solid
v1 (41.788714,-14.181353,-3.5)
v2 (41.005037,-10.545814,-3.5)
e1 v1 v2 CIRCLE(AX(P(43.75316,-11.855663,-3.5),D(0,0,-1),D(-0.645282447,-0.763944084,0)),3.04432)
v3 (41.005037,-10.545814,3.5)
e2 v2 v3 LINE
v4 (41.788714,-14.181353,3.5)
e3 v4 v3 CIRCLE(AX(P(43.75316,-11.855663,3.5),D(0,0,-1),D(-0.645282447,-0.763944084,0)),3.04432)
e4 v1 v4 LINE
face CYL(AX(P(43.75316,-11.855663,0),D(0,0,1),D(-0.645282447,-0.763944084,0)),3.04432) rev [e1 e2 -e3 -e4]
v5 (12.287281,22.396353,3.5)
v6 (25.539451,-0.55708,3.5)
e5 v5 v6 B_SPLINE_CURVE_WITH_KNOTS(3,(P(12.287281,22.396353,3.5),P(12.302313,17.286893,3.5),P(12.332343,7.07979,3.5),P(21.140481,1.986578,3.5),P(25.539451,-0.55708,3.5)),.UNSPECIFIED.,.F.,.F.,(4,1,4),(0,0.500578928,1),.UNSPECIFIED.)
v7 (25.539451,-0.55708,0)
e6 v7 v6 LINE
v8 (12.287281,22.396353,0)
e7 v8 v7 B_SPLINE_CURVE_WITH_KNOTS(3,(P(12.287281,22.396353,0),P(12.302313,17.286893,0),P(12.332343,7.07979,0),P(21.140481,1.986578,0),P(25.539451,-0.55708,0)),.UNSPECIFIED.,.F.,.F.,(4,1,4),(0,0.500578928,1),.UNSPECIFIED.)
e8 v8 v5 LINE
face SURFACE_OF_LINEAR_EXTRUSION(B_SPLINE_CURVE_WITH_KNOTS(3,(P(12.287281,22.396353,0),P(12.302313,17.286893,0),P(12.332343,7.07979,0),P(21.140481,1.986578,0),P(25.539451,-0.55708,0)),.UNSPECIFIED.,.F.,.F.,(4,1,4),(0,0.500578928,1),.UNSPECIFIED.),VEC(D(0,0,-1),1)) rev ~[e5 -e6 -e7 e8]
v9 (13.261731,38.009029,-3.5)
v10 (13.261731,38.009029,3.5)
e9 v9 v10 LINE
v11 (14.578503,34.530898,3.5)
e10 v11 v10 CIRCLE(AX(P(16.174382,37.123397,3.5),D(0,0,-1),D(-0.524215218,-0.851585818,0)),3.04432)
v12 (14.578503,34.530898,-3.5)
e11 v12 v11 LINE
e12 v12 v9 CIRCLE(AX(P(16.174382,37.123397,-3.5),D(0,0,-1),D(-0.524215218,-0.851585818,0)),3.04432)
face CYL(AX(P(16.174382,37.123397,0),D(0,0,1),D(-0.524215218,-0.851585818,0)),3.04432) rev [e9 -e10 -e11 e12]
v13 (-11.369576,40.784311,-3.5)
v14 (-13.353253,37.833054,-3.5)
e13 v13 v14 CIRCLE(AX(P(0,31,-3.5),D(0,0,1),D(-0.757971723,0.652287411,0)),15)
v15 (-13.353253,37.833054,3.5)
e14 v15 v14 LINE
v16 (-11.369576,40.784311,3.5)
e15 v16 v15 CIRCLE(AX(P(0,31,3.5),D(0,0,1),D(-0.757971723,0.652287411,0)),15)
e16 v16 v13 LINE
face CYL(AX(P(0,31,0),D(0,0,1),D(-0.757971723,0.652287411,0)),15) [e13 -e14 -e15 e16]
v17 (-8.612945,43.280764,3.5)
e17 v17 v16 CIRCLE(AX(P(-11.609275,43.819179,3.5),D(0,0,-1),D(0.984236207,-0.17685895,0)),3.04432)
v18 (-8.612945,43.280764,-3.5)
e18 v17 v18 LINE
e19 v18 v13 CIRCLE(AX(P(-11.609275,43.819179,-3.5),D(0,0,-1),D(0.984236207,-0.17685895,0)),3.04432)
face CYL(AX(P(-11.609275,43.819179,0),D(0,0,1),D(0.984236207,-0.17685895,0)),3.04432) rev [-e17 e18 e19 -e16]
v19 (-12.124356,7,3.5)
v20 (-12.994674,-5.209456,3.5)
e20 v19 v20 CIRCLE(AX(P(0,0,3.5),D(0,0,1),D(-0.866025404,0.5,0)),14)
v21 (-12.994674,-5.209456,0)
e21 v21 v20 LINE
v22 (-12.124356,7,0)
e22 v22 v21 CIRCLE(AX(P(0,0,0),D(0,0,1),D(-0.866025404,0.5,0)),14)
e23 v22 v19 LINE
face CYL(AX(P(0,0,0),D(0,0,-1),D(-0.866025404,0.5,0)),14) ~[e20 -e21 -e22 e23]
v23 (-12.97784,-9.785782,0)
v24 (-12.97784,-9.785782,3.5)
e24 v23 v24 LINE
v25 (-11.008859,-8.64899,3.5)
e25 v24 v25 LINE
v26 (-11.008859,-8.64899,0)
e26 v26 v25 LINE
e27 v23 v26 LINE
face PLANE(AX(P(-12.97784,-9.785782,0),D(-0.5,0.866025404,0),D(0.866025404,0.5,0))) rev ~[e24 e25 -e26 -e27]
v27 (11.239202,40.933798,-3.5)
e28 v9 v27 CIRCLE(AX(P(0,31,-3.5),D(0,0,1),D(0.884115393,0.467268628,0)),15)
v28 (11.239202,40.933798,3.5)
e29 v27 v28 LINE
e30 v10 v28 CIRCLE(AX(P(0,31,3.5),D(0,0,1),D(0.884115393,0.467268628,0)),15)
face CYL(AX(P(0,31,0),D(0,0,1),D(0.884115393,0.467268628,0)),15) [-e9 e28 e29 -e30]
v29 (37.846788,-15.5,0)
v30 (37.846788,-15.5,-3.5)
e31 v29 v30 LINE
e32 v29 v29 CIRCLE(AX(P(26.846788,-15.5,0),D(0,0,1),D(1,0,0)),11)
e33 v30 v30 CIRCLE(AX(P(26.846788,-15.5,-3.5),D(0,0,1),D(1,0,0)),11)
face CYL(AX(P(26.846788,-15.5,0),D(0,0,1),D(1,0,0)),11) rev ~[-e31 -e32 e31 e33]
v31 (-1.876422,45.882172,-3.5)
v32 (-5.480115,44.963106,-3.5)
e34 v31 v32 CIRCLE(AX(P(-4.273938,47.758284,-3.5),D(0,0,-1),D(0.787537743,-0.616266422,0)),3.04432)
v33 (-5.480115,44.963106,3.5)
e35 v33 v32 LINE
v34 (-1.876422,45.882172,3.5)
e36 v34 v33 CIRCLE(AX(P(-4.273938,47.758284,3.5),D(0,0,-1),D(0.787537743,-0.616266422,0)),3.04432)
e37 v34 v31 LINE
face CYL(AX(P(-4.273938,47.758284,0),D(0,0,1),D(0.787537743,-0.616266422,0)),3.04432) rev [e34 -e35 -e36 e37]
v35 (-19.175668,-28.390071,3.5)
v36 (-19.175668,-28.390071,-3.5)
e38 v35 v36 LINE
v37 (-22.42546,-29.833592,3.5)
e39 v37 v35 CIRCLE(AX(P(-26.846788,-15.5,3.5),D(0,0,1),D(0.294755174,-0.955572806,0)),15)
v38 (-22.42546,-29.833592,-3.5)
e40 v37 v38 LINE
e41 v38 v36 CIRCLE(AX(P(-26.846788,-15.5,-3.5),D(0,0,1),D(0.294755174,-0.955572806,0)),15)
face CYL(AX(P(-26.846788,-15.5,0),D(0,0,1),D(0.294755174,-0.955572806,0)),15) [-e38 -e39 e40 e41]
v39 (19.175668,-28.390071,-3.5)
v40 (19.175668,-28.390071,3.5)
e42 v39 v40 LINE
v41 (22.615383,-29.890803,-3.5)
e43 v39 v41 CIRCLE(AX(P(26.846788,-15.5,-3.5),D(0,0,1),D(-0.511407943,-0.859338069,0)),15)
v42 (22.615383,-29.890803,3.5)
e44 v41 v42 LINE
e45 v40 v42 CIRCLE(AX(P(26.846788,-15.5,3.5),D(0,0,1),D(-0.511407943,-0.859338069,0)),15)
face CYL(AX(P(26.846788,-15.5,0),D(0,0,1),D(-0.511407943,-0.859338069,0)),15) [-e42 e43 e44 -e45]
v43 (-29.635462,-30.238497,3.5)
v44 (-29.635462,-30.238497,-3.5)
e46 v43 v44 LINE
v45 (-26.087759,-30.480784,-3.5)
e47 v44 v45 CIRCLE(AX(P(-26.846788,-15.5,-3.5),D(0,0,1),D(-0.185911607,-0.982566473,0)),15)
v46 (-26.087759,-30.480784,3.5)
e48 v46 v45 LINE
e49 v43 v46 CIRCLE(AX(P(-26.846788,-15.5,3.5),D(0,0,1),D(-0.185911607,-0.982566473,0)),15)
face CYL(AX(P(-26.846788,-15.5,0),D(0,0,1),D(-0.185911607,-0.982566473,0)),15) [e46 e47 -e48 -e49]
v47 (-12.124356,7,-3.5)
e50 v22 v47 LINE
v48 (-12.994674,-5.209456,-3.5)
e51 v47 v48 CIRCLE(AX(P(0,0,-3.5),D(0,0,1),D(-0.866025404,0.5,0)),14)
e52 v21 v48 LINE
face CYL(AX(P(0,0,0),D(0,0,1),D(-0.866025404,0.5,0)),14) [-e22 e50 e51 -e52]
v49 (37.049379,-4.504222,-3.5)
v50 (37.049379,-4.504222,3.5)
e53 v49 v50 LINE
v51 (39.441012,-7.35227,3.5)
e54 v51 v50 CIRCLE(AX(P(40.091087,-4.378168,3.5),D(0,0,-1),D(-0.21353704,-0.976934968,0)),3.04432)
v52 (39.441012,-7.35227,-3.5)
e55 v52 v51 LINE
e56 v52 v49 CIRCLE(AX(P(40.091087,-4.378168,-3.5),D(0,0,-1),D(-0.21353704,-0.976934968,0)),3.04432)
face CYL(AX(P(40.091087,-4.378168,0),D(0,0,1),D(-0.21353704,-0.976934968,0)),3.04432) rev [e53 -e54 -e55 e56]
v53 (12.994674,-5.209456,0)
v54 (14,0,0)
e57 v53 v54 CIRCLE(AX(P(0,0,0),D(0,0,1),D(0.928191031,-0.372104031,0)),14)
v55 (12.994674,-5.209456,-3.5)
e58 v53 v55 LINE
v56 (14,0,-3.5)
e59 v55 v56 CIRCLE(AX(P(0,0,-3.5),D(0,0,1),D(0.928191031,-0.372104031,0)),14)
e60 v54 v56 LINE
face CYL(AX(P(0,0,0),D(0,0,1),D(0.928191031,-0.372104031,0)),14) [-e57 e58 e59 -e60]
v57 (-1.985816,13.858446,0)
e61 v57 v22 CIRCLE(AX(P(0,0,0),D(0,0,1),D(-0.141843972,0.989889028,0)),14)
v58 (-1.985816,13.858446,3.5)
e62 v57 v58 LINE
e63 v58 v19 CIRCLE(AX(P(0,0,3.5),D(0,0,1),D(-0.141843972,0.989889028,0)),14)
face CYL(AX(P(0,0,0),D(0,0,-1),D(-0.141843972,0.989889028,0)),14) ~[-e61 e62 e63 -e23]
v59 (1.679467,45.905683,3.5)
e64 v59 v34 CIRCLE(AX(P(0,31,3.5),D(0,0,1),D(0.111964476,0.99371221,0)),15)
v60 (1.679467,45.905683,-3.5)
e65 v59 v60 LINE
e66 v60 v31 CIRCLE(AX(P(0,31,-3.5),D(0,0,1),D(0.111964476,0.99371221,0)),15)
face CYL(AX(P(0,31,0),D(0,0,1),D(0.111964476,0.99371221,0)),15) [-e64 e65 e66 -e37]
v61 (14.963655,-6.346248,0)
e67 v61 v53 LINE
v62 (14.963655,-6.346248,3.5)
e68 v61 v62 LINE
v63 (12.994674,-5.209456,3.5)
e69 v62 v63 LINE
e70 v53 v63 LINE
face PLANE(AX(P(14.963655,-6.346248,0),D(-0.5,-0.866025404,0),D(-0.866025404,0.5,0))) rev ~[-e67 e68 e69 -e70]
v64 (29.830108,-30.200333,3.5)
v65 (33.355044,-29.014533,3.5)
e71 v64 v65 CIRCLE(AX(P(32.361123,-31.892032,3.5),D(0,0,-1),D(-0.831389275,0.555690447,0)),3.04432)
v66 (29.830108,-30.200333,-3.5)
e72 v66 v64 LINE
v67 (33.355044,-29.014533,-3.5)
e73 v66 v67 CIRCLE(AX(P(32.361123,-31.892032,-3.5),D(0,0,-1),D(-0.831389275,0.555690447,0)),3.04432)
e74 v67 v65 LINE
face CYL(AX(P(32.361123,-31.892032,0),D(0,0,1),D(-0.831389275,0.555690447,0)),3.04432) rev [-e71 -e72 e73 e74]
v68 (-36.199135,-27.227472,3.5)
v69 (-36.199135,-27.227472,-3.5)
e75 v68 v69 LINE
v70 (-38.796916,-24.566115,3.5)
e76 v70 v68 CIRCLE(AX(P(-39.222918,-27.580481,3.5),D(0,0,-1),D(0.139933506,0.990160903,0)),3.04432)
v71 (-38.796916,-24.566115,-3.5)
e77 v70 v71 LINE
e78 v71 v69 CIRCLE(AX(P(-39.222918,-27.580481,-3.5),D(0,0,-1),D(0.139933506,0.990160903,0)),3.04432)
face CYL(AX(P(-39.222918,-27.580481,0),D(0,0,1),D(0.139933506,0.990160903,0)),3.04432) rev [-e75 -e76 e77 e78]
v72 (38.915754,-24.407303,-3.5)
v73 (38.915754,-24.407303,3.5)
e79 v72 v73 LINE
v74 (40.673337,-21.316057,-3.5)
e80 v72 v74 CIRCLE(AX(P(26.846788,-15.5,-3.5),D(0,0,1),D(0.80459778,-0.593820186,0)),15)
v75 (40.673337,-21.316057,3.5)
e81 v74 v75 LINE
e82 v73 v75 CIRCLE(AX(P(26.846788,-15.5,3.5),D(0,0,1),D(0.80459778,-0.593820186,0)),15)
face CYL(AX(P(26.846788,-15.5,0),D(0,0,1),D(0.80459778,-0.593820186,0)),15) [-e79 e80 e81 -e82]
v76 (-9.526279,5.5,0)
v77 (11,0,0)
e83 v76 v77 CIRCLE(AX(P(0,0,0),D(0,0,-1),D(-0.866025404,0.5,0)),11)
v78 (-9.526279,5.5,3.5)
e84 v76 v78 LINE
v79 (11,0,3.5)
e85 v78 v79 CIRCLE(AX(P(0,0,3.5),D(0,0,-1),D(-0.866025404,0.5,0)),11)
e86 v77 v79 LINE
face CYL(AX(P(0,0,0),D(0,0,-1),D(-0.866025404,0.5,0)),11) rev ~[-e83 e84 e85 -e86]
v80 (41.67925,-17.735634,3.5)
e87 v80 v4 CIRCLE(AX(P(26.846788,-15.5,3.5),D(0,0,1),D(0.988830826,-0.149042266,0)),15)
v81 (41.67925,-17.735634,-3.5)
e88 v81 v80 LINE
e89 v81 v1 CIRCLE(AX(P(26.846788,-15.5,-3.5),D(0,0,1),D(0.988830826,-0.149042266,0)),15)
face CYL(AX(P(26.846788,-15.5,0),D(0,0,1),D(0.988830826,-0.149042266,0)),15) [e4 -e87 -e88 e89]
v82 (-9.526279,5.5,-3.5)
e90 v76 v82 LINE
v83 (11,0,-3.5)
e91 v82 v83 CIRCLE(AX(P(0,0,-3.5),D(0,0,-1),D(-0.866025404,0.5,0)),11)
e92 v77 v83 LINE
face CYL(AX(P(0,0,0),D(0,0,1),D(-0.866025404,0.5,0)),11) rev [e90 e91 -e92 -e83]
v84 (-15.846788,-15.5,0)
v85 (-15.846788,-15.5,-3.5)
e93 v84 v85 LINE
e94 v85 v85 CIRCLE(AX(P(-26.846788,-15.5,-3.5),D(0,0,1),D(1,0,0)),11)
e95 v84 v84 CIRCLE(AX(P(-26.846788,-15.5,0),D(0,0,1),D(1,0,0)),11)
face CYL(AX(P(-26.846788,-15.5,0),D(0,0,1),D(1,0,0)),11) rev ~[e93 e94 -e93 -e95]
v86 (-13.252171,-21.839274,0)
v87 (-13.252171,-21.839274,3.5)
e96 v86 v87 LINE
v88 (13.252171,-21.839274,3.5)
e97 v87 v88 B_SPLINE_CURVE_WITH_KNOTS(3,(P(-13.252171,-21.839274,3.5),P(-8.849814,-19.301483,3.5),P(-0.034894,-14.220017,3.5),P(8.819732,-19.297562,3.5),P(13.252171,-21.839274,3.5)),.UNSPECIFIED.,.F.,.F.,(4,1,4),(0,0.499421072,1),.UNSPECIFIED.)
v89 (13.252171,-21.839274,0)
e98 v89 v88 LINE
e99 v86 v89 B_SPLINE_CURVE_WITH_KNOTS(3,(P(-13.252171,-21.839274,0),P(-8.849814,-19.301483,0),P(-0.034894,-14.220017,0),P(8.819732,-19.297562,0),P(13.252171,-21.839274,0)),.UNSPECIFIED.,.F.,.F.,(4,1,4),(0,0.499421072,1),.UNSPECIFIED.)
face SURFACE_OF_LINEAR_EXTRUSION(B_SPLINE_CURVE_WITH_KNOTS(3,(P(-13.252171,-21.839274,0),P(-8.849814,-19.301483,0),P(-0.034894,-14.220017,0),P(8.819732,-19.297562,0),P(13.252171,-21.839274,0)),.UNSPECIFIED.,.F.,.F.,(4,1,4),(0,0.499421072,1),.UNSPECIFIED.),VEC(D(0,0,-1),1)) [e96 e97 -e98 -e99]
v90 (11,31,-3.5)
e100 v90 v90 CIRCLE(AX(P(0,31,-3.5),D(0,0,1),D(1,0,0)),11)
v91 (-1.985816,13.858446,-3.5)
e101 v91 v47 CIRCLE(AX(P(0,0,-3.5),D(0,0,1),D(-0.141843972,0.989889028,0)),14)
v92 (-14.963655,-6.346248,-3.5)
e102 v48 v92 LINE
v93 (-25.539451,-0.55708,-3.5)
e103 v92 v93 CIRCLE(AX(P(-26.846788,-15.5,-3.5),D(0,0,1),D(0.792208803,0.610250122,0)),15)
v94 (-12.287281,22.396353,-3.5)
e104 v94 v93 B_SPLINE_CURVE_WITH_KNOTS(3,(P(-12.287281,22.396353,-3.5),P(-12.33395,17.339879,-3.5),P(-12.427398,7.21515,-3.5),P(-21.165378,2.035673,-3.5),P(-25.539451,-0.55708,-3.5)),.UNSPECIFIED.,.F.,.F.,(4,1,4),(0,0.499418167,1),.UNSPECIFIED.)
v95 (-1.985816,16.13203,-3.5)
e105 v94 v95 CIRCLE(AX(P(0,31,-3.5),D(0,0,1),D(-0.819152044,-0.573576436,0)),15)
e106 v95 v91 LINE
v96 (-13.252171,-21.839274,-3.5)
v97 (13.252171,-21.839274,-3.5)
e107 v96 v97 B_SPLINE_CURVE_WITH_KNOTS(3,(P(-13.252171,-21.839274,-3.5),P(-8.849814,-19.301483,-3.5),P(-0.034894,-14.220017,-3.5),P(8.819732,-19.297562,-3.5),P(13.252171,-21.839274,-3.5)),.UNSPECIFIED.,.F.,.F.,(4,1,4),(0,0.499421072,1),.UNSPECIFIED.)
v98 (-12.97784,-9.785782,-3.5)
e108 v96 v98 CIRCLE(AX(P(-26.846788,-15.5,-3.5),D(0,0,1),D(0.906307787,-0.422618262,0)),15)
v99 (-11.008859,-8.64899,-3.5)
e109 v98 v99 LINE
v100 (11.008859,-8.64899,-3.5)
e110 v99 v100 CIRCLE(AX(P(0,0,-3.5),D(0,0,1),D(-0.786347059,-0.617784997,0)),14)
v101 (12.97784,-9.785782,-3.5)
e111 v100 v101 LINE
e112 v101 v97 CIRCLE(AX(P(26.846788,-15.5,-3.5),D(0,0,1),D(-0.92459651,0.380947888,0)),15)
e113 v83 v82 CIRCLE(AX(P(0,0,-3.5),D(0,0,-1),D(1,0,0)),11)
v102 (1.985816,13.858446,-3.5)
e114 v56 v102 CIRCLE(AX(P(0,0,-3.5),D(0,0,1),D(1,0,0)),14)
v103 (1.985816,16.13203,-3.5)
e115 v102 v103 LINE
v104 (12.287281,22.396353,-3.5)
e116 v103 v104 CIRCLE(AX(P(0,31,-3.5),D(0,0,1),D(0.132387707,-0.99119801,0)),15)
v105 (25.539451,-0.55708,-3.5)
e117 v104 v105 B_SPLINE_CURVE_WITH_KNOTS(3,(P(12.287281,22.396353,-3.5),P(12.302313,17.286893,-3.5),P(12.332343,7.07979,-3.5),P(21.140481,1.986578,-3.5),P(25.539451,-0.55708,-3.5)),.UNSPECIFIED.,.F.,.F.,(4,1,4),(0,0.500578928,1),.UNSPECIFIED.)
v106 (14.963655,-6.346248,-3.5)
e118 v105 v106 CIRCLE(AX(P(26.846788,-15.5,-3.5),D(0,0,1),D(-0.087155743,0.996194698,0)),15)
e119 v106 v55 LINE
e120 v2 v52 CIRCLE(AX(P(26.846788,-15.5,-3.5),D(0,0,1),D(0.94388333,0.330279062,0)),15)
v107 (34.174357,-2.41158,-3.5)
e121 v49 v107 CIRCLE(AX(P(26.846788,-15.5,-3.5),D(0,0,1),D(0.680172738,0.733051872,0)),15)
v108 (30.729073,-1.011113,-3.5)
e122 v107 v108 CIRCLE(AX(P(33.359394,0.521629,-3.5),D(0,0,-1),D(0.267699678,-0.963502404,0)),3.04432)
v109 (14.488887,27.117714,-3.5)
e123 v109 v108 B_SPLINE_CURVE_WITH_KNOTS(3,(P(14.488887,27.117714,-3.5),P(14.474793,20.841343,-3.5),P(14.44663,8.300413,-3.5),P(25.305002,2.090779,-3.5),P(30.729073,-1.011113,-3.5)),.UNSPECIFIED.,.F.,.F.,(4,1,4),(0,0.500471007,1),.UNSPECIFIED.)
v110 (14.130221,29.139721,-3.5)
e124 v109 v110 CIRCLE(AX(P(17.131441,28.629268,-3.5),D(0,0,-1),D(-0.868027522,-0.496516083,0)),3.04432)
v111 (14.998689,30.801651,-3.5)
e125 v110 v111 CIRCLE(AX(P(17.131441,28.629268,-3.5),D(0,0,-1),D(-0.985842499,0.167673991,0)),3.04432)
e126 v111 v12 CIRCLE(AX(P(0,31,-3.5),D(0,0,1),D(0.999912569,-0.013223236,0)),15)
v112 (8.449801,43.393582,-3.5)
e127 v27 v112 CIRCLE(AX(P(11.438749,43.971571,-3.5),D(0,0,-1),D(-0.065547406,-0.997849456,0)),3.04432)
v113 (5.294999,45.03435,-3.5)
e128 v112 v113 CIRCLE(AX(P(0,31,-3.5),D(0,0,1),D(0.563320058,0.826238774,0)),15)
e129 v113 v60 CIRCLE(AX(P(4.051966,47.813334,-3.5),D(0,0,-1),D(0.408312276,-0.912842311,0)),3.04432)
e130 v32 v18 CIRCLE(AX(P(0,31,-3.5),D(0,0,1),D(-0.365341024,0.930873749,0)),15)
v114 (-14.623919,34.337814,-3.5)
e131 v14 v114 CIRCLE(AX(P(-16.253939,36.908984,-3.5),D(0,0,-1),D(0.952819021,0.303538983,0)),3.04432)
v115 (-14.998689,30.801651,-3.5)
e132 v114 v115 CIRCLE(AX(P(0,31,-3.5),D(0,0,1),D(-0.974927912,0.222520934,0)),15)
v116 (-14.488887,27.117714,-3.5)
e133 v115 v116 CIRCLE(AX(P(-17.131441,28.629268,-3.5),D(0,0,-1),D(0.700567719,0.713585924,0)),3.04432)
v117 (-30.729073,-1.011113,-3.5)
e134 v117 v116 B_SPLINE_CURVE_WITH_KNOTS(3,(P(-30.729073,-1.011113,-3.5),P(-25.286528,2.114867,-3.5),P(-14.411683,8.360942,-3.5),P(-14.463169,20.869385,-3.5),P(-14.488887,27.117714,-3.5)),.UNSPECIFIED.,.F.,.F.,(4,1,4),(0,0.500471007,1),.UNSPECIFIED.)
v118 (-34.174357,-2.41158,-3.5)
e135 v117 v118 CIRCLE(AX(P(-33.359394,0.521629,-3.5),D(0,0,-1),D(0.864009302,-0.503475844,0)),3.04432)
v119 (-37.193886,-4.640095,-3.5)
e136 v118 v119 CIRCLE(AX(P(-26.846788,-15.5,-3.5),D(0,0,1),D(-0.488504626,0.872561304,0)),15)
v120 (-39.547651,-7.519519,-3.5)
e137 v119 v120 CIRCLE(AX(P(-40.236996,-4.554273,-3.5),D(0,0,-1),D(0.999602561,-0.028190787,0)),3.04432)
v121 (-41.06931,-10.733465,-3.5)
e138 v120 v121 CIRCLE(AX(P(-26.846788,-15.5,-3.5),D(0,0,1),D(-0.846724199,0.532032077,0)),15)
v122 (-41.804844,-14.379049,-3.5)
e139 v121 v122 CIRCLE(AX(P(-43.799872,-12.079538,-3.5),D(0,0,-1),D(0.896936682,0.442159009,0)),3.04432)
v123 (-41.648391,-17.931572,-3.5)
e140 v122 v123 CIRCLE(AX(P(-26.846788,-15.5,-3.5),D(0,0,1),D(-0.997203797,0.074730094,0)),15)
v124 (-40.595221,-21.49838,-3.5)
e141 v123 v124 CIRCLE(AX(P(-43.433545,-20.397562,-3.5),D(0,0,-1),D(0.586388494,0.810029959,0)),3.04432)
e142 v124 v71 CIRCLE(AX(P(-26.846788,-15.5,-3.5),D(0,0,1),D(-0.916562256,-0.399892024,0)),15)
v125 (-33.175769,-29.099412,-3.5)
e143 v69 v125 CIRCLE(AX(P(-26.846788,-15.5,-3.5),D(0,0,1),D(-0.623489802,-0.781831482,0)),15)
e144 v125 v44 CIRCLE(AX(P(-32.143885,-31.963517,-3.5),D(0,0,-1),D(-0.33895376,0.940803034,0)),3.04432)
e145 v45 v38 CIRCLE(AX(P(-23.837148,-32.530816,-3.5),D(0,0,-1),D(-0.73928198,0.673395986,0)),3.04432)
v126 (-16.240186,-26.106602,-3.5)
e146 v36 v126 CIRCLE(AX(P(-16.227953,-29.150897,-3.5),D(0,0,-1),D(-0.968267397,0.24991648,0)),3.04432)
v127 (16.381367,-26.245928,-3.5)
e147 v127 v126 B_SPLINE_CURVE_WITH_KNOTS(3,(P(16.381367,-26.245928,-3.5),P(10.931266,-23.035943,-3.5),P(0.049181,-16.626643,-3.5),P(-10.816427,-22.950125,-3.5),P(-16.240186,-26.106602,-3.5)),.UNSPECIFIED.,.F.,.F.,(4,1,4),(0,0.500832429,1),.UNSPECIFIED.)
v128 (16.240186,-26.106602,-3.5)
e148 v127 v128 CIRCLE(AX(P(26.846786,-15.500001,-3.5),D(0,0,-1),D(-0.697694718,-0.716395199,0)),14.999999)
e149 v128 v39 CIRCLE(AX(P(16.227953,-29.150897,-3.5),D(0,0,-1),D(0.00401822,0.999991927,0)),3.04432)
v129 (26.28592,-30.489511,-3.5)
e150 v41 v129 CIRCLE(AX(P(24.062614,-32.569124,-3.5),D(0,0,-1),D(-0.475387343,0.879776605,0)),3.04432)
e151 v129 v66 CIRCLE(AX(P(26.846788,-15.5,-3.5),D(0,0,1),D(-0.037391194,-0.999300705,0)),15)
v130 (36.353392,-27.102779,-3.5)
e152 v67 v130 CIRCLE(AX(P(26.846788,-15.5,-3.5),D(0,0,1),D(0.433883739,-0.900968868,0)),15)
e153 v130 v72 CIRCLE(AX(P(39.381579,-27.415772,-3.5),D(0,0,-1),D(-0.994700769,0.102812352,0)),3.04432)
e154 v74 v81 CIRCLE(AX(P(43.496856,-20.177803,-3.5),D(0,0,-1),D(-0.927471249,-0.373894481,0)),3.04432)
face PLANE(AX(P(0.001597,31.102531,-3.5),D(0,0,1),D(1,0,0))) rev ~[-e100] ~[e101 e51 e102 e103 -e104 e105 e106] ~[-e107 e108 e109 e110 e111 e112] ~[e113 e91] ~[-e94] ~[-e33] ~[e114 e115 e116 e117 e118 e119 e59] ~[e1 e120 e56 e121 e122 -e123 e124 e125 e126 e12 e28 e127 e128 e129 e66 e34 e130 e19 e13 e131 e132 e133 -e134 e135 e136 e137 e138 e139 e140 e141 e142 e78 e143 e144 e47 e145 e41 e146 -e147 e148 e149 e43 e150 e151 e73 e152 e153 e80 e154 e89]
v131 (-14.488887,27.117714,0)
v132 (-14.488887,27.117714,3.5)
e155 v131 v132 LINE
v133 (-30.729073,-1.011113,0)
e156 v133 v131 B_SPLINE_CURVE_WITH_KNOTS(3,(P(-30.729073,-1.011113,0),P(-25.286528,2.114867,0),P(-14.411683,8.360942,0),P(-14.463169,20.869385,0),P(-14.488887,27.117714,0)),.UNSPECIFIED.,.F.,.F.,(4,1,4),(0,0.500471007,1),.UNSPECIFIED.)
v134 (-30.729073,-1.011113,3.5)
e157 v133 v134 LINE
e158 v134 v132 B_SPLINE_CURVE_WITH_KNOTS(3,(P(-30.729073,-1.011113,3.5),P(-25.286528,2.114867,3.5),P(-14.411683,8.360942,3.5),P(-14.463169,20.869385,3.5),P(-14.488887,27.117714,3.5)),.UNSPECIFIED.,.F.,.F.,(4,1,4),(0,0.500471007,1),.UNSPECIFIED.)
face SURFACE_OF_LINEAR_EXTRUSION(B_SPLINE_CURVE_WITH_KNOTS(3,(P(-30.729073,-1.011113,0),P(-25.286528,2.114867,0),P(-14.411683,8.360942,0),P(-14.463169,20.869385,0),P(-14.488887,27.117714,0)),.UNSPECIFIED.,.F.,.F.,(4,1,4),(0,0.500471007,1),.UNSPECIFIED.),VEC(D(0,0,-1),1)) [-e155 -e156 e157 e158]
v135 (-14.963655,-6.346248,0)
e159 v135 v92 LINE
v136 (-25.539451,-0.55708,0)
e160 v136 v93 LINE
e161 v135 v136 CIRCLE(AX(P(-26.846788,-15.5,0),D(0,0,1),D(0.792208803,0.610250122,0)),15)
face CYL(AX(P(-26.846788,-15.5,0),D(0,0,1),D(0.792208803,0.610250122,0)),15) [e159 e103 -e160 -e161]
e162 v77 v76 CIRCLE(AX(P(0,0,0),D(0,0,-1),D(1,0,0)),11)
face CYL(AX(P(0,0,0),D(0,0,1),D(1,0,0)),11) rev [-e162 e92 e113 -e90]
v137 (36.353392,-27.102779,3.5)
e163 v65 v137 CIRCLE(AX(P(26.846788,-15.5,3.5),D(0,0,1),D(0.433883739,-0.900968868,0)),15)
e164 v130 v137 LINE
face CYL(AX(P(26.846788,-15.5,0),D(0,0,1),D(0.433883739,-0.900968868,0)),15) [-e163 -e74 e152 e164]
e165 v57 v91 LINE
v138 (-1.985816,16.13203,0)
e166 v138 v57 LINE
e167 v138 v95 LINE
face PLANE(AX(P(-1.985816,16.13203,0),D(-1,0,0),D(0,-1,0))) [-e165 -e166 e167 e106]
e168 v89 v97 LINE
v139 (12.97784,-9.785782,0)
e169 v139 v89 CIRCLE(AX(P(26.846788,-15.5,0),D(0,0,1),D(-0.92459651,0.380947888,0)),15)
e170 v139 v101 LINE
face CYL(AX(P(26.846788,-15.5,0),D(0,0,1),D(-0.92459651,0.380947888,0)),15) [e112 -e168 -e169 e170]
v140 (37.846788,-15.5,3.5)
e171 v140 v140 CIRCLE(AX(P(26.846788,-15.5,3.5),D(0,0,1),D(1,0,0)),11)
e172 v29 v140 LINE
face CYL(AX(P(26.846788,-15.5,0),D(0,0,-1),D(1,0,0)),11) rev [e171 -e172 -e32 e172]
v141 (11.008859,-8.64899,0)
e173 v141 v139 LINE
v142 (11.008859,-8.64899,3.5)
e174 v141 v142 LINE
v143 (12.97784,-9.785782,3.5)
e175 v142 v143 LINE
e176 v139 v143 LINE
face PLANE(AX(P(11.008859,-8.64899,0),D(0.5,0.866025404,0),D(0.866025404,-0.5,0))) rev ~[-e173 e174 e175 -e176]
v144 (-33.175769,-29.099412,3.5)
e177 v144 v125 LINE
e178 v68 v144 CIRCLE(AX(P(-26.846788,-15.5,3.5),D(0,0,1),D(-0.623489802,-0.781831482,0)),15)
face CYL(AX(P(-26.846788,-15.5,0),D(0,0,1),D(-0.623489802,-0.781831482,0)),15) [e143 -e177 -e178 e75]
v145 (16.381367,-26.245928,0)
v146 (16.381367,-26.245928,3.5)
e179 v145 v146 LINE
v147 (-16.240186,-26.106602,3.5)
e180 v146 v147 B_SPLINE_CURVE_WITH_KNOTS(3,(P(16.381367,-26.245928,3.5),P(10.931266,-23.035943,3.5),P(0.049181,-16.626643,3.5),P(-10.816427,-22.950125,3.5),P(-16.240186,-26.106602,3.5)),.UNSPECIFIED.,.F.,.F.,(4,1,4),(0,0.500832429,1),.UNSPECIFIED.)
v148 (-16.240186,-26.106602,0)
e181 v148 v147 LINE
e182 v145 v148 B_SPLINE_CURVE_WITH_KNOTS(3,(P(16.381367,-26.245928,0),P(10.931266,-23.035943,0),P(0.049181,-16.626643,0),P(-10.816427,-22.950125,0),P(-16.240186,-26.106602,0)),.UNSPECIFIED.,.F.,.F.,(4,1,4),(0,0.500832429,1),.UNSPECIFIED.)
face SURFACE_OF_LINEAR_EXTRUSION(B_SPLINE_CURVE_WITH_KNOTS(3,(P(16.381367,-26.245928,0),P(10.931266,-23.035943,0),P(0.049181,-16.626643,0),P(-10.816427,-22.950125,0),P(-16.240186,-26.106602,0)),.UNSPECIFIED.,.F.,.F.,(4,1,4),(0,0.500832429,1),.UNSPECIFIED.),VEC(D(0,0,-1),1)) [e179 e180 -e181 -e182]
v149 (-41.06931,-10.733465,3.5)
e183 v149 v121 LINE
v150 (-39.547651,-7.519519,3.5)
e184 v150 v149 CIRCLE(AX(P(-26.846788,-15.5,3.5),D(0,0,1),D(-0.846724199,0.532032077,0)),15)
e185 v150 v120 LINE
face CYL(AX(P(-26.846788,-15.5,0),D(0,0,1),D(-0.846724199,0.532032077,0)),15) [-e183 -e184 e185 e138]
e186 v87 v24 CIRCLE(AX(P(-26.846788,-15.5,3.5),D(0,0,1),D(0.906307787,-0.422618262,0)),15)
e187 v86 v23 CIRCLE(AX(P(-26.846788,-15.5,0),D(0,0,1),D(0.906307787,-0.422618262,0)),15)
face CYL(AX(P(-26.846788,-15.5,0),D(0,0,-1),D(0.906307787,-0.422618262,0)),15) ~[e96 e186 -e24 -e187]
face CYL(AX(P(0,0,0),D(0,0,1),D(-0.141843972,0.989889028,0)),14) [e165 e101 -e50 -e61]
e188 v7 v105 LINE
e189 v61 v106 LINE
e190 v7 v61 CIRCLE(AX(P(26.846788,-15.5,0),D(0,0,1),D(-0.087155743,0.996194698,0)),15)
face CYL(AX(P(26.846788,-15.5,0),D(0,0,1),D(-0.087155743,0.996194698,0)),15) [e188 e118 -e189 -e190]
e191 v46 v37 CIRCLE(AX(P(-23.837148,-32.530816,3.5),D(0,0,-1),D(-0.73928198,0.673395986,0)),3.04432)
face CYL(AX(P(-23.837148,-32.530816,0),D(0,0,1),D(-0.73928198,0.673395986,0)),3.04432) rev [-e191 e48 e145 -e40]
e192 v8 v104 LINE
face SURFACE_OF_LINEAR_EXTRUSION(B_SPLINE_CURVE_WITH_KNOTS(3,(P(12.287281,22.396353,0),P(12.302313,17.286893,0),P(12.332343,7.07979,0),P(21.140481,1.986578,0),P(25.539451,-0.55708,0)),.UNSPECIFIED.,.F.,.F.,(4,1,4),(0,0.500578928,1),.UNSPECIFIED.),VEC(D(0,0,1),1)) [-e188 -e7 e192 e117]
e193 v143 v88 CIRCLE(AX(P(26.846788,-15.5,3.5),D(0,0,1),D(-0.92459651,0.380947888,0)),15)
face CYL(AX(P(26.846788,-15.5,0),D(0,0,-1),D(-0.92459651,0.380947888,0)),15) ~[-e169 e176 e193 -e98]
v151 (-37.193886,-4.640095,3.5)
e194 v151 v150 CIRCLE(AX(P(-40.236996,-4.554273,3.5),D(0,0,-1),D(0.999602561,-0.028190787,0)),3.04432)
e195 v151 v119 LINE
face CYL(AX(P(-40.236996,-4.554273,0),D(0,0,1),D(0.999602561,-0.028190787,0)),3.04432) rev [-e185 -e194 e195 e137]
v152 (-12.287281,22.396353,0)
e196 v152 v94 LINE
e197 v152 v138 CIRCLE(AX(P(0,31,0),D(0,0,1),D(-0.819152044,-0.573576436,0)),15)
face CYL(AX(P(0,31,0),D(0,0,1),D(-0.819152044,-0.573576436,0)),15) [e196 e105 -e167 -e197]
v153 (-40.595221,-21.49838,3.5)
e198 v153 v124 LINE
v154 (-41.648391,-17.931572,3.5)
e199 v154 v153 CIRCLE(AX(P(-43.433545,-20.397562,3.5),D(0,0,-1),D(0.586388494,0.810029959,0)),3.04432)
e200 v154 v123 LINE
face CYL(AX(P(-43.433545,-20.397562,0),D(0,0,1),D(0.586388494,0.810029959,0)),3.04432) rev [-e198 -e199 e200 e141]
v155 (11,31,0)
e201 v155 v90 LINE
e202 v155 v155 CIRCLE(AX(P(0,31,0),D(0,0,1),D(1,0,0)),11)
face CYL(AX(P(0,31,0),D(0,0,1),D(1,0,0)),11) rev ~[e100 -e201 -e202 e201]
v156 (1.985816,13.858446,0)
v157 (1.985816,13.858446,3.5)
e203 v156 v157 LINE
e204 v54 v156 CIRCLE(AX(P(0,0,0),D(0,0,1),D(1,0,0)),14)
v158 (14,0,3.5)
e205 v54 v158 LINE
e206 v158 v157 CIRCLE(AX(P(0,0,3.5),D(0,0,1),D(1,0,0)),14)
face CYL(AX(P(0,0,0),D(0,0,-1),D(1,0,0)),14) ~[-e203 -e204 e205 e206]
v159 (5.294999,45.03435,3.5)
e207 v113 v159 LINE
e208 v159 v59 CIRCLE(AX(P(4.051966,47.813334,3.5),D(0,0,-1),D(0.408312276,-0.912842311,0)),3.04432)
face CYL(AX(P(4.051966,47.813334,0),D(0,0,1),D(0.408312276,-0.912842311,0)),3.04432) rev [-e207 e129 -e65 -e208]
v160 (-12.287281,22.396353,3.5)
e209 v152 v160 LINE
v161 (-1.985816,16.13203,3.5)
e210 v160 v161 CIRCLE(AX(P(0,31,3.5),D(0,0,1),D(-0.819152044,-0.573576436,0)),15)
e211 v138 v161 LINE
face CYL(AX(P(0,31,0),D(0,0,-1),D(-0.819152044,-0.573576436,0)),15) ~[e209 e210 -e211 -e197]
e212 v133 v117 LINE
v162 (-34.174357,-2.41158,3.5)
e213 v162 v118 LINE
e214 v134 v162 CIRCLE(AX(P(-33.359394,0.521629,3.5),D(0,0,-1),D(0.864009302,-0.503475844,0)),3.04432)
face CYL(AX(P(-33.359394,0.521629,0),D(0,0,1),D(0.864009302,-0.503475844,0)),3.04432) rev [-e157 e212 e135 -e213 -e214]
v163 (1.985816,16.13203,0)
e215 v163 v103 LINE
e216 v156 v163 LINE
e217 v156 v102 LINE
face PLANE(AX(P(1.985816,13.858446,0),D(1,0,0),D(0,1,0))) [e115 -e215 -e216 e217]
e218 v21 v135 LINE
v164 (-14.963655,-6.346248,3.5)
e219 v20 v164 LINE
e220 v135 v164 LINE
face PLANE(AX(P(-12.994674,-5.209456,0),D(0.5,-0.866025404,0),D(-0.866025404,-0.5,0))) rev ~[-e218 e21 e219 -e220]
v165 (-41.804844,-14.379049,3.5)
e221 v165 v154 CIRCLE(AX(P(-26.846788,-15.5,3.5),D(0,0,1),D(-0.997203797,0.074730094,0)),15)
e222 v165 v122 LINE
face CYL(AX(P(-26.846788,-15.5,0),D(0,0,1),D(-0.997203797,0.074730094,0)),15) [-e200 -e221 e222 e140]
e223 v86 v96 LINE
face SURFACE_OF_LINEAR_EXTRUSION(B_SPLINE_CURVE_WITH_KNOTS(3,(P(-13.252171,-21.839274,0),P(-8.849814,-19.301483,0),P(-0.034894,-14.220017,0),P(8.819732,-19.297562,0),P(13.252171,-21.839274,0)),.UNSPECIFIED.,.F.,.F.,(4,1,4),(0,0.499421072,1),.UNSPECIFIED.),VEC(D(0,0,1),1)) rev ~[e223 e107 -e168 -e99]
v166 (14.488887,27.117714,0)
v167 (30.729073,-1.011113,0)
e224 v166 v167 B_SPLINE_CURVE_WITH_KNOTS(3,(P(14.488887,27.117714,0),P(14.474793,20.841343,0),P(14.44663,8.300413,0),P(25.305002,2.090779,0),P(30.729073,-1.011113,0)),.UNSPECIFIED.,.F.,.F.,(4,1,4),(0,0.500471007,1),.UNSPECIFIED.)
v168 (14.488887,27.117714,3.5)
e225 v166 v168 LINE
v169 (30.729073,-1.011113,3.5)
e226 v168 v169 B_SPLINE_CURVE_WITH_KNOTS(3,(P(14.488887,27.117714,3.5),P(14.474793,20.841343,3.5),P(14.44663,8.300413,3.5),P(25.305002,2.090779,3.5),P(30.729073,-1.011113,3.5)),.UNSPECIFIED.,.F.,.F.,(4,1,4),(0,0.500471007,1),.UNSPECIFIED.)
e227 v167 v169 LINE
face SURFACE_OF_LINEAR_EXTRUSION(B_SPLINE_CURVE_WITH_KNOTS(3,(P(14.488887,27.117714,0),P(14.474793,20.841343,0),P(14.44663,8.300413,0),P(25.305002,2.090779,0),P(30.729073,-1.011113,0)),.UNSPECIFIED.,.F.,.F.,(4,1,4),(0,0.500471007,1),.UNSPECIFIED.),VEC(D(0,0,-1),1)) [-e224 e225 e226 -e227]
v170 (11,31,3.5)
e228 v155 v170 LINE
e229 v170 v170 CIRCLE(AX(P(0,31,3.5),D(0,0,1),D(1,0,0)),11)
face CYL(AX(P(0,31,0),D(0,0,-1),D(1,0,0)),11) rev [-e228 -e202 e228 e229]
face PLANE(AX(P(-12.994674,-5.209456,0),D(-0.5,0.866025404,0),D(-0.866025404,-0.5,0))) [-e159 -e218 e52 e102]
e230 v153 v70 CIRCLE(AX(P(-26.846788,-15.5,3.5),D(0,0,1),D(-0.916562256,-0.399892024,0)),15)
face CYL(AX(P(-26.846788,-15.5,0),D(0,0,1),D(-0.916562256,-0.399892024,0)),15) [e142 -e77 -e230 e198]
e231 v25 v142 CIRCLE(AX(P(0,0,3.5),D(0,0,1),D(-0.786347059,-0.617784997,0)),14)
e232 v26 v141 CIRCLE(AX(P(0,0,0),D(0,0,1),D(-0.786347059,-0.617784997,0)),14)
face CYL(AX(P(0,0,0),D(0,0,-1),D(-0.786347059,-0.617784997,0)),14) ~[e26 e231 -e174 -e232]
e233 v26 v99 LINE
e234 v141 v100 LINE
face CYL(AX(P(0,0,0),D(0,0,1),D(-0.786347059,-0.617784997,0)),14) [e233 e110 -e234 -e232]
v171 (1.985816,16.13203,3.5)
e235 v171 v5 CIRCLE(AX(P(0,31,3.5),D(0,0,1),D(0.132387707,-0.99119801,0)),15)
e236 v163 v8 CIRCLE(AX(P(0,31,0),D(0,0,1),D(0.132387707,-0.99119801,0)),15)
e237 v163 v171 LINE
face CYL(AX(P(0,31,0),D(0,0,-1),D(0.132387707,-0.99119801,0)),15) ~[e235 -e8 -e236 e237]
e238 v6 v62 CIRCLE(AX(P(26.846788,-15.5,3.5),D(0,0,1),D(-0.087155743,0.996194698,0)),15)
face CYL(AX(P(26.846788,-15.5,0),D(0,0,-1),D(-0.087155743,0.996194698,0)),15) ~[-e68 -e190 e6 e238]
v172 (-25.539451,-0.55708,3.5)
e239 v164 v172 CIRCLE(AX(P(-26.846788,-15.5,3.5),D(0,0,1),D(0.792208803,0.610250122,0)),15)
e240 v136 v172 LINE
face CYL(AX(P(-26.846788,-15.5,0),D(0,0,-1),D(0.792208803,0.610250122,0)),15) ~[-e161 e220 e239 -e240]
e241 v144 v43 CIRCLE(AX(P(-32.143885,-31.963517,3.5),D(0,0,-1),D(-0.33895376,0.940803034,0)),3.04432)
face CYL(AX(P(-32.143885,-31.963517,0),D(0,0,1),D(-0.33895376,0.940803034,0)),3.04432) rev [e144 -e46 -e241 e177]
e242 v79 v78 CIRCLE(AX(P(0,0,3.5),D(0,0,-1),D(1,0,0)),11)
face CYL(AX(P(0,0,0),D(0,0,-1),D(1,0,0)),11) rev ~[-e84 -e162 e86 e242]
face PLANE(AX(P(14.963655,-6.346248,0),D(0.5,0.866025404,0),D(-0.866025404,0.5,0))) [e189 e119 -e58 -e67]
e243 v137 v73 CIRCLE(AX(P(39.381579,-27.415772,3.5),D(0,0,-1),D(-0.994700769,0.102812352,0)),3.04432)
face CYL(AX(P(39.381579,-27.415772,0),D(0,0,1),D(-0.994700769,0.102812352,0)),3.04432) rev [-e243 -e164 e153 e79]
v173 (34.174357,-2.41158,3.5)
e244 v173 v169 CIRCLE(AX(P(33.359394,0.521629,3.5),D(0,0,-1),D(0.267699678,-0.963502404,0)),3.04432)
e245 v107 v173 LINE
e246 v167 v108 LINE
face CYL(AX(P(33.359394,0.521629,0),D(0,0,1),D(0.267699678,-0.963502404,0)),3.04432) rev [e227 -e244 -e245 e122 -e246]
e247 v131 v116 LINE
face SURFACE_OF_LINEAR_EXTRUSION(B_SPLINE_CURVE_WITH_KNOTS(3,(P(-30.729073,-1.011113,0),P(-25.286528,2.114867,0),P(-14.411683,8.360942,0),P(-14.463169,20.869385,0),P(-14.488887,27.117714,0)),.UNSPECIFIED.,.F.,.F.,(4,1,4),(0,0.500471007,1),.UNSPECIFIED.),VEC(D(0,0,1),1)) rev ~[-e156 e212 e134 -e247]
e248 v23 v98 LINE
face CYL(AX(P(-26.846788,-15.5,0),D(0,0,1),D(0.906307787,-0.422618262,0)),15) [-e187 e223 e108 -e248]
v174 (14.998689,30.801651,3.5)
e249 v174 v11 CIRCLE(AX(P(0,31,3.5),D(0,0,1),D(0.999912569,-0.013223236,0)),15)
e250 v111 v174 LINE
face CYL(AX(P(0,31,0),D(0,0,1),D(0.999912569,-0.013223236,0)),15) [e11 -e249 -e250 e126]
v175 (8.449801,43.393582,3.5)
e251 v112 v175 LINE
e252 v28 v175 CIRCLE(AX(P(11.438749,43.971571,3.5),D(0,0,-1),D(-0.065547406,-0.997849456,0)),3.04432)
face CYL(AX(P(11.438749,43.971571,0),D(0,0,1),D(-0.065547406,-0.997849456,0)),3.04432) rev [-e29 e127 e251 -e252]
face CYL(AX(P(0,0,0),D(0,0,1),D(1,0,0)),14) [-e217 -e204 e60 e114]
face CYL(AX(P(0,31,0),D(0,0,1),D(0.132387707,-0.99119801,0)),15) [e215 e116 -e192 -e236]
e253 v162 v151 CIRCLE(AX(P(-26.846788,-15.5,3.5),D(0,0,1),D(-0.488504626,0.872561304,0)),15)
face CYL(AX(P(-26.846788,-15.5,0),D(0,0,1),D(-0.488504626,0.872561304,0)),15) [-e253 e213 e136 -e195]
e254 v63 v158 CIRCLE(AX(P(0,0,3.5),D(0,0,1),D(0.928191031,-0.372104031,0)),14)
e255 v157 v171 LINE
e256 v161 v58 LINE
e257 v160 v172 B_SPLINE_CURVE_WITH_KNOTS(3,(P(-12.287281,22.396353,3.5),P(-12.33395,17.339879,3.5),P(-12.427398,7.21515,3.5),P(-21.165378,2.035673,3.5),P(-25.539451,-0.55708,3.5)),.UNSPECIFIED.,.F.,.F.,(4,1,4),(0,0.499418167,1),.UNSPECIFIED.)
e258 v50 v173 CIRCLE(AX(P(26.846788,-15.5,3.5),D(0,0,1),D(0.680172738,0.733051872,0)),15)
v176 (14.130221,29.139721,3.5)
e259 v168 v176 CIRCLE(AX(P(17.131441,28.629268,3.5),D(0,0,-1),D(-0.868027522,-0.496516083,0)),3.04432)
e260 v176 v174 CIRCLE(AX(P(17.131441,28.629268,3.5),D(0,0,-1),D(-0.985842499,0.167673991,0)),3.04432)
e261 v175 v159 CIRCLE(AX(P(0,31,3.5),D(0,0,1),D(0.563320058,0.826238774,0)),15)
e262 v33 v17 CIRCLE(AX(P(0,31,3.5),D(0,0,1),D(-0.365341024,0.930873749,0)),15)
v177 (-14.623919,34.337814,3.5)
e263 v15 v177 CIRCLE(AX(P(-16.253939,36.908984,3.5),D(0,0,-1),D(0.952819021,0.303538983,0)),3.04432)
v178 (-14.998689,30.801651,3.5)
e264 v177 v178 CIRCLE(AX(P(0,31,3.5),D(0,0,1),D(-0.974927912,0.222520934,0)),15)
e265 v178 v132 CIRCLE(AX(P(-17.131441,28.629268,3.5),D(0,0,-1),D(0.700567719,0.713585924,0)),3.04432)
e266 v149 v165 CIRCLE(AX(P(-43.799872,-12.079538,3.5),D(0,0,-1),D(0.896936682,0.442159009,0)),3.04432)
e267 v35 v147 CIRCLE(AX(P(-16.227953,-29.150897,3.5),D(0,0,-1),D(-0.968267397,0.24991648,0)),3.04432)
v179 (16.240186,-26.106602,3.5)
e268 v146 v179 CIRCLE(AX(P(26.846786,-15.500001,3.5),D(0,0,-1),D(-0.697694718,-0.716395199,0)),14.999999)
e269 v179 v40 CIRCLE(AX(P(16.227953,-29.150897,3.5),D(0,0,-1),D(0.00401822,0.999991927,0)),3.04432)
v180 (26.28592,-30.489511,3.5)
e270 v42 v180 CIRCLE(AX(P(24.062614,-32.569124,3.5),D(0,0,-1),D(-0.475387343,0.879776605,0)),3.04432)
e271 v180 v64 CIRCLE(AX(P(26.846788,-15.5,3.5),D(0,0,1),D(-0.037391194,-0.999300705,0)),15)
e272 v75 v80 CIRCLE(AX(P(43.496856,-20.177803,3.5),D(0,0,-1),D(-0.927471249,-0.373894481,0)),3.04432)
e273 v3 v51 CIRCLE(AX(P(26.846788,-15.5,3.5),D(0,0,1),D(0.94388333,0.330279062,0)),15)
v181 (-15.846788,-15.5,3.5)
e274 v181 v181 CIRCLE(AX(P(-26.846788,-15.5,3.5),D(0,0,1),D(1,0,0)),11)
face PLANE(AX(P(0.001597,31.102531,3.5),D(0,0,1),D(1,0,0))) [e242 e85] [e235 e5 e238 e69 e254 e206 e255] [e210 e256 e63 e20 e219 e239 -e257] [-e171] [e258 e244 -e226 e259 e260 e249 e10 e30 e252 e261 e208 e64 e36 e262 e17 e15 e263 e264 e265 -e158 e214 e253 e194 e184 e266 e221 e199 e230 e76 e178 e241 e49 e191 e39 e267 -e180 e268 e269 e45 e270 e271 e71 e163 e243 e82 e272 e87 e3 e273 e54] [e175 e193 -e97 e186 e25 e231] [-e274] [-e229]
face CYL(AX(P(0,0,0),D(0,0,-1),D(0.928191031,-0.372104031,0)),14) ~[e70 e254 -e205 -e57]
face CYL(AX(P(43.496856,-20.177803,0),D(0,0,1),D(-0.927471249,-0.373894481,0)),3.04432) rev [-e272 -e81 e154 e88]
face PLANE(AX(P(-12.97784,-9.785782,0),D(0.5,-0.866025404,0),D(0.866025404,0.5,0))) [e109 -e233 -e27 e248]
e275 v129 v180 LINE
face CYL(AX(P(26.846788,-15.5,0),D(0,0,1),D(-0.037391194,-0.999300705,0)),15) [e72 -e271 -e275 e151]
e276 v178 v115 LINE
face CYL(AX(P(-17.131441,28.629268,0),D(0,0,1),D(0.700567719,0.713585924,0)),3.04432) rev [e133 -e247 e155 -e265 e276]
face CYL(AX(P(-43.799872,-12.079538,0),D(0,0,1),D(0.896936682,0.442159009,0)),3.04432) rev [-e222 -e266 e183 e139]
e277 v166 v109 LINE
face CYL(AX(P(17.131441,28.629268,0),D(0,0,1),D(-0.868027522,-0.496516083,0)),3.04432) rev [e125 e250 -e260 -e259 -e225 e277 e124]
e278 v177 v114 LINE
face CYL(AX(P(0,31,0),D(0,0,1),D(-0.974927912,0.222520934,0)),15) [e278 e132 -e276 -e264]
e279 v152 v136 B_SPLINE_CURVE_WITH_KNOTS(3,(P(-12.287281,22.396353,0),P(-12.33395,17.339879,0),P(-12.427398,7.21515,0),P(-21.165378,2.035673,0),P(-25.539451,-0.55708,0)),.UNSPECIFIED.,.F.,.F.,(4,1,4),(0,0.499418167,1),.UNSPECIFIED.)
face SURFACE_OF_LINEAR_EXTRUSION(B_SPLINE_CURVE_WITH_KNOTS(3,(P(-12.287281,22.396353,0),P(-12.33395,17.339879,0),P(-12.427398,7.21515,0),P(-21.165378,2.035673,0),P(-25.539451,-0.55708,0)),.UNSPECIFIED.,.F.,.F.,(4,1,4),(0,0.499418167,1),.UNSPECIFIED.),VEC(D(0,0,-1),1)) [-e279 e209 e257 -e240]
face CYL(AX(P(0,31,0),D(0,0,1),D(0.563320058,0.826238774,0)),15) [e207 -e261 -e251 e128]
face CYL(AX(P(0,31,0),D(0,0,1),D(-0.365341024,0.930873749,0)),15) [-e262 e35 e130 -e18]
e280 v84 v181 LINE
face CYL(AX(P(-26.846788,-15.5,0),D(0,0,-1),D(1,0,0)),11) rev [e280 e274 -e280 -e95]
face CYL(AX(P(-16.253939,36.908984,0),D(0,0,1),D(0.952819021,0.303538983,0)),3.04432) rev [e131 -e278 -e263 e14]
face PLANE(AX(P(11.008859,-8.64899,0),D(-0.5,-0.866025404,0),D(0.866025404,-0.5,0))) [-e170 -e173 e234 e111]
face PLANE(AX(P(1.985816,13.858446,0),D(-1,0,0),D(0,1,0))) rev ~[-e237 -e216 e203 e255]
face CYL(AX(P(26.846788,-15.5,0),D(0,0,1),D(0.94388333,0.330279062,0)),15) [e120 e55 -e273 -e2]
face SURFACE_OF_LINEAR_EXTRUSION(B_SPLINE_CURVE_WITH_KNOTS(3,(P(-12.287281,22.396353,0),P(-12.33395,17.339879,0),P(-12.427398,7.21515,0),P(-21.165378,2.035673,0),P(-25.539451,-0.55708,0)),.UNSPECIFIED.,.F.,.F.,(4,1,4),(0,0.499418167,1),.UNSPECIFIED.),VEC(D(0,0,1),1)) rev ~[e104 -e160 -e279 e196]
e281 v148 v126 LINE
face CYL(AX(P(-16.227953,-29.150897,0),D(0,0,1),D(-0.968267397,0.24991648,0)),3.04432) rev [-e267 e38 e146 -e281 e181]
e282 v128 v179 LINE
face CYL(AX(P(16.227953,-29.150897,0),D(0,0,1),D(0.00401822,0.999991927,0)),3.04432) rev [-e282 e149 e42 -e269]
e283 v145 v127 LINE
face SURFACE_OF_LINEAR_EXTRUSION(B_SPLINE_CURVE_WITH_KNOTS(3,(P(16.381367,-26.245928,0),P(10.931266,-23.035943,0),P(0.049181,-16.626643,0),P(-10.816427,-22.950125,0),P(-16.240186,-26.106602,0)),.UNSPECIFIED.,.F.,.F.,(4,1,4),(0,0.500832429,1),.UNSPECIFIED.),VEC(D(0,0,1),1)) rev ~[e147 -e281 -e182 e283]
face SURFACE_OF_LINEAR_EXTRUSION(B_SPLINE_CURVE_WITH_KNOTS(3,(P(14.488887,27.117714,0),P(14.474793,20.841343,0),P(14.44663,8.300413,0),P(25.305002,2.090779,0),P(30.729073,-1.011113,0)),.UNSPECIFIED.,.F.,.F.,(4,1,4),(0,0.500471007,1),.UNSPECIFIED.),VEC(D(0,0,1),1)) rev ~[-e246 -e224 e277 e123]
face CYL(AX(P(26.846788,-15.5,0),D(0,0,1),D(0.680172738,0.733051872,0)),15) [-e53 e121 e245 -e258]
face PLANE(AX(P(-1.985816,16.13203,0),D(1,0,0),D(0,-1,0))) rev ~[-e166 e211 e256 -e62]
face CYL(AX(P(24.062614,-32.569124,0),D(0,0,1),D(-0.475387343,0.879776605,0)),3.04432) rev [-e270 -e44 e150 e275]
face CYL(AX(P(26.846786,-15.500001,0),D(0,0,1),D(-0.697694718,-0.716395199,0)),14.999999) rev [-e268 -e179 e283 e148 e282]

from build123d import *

# Parameters (mm, degrees)
F0_R     = 11
F1_DEPTH = 3.5


with BuildPart() as f1:
    # F0 (on Top) → F1 (new body, symmetric)
    with BuildSketch(Plane.XY):
        with BuildLine():
            ThreePointArc((-12.2872806643, 22.3963534547), (-7.7936356612, 18.1836337763), (-1.9858156028, 16.1320298497))
            ThreePointArc((-1.9858156028, 16.1320298497), (0, 16), (1.9858156028, 16.1320298497))
            ThreePointArc((1.9858156028, 16.1320298497), (7.7936356612, 18.1836337763), (12.2872806643, 22.3963534547))
            ThreePointArc((12.2872806643, 22.3963534547), (13.5946168055, 24.6607260739), (14.4888873943, 27.1177143235))
            ThreePointArc((14.4888873943, 27.1177143235), (14.1339131395, 28.0975622646), (14.1302209633, 29.1397211187))
            ThreePointArc((14.1302209633, 29.1397211187), (14.4333080068, 30.0392190625), (14.9986885379, 30.8016514607))
            ThreePointArc((14.9986885379, 30.8016514607), (14.9056831484, 32.6794671415), (14.5785033995, 34.5308977089))
            ThreePointArc((14.5785033995, 34.5308977089), (13.3272676617, 36.0455189605), (13.2617309026, 38.0090294241))
            ThreePointArc((13.2617309026, 38.0090294241), (12.3374426401, 39.5315595938), (11.2392015408, 40.9337983031))
            ThreePointArc((11.2392015408, 40.9337983031), (9.4252297695, 41.6882350601), (8.449800871, 43.3935816147))
            ThreePointArc((8.449800871, 43.3935816147), (6.9211928061, 44.3077830663), (5.2949987863, 45.0343502825))
            ThreePointArc((5.2949987863, 45.0343502825), (3.3387137913, 44.8537473316), (1.6794671415, 45.9056831484))
            ThreePointArc((1.6794671415, 45.9056831484), (-0.0991764374, 45.9996721309), (-1.8764216697, 45.8821719422))
            ThreePointArc((-1.8764216697, 45.8821719422), (-3.5216132547, 44.8083874871), (-5.4801153655, 44.9631062297))
            ThreePointArc((-5.4801153655, 44.9631062297), (-7.0965596362, 44.2150989906), (-8.612945352, 43.2807643232))
            ThreePointArc((-8.612945352, 43.2807643232), (-9.5657387682, 41.562668542), (-11.3695758472, 40.7843111692))
            ThreePointArc((-11.3695758472, 40.7843111692), (-12.4491787931, 39.3676727576), (-13.3532534686, 37.8330536221))
            ThreePointArc((-13.3532534686, 37.8330536221), (-13.3928205357, 35.8688482218), (-14.6239186827, 34.3378140093))
            ThreePointArc((-14.6239186827, 34.3378140093), (-14.9164615787, 32.580877595), (-14.9986885379, 30.8016514607))
            ThreePointArc((-14.9986885379, 30.8016514607), (-14.1158588279, 29.0465787811), (-14.4888873943, 27.1177143235))
            ThreePointArc((-14.4888873943, 27.1177143235), (-13.5946168055, 24.6607260739), (-12.2872806643, 22.3963534547))
        make_face()
        with Locations((0, 31)):
            Circle(F0_R, mode=Mode.SUBTRACT)
        with BuildLine():
            Line((-1.9858156028, 16.1320298497), (-1.9858156028, 13.8584463917))
            ThreePointArc((-1.9858156028, 13.8584463917), (0, 14), (1.9858156028, 13.8584463917))
            Line((1.9858156028, 13.8584463917), (1.9858156028, 16.1320298497))
            ThreePointArc((1.9858156028, 16.1320298497), (0, 16), (-1.9858156028, 16.1320298497))
        make_face()
        with BuildLine():
            ThreePointArc((12.9946744336, -5.2094564366), (12.124355653, -7), (11.0088588308, -8.6489899551))
            Line((11.0088588308, -8.6489899551), (12.977839863, -9.7857816841))
            ThreePointArc((12.977839863, -9.7857816841), (13.8564064606, -8), (14.9636554658, -6.3462481655))
            Line((14.9636554658, -6.3462481655), (12.9946744336, -5.2094564366))
        make_face()
        with BuildLine():
            ThreePointArc((-11.0088588308, -8.6489899551), (-12.124355653, -7), (-12.9946744336, -5.2094564366))
            Line((-12.9946744336, -5.2094564366), (-14.9636554658, -6.3462481655))
            ThreePointArc((-14.9636554658, -6.3462481655), (-13.8564064606, -8), (-12.977839863, -9.7857816841))
            Line((-12.977839863, -9.7857816841), (-11.0088588308, -8.6489899551))
        make_face()
        with BuildLine():
            ThreePointArc((-1.9858156028, 13.8584463917), (-7.8443485991, 11.5959559785), (-12.124355653, 7))
            ThreePointArc((-12.124355653, 7), (-13.9645667581, 0.9954271737), (-12.9946744336, -5.2094564366))
            ThreePointArc((-12.9946744336, -5.2094564366), (-12.124355653, -7), (-11.0088588308, -8.6489899551))
            ThreePointArc((-11.0088588308, -8.6489899551), (0, -14), (11.0088588308, -8.6489899551))
            ThreePointArc((11.0088588308, -8.6489899551), (12.124355653, -7), (12.9946744336, -5.2094564366))
            ThreePointArc((12.9946744336, -5.2094564366), (13.7463711952, -2.6527870183), (14, 0))
            ThreePointArc((14, 0), (10.5783131557, 9.1705665463), (1.9858156028, 13.8584463917))
            ThreePointArc((1.9858156028, 13.8584463917), (0, 14), (-1.9858156028, 13.8584463917))
        make_face()
        with BuildLine():
            ThreePointArc((-9.5262794416, 5.5), (2.8470094961, 10.6251840892), (11, 0))
            ThreePointArc((11, 0), (-2.8470094961, -10.6251840892), (-9.5262794416, 5.5))
        make_face(mode=Mode.SUBTRACT)
        with BuildLine():
            add(Edge.make_bspline(
                [(-12.2872806643, 22.3963534547), (-12.3339502602, 17.33987948), (-12.4273981941, 7.2151497208), (-21.1653776172, 2.035672616), (-25.5394513761, -0.5570795286)],
                knots=[0, 0, 0, 0, 0.4994181667, 1, 1, 1, 1], degree=3))
            ThreePointArc((-12.2872806643, 22.3963534547), (-13.5946168055, 24.6607260739), (-14.4888873943, 27.1177143235))
            add(Edge.make_bspline(
                [(-30.7290731939, -1.0111126057), (-25.2865284697, 2.114867038), (-14.4116832718, 8.3609424382), (-14.4631688535, 20.8693847353), (-14.4888873943, 27.1177143235)],
                knots=[0, 0, 0, 0, 0.5004710067, 1, 1, 1, 1], degree=3))
            ThreePointArc((-30.7290731939, -1.0111126057), (-28.1541236585, -0.5570795286), (-25.5394513761, -0.5570795286))
        make_face()
        with BuildLine():
            ThreePointArc((14.4888873943, 27.1177143235), (13.5946168055, 24.6607260739), (12.2872806643, 22.3963534547))
            add(Edge.make_bspline(
                [(12.2872806643, 22.3963534547), (12.3023130611, 17.2868927949), (12.3323430842, 7.0797898225), (21.1404814617, 1.9865778544), (25.5394513761, -0.5570795286)],
                knots=[0, 0, 0, 0, 0.5005789276, 1, 1, 1, 1], degree=3))
            ThreePointArc((25.5394513761, -0.5570795286), (28.1541236585, -0.5570795286), (30.7290731939, -1.0111126057))
            add(Edge.make_bspline(
                [(14.4888873943, 27.1177143235), (14.4747928154, 20.8413425093), (14.446630187, 8.3004126056), (25.3050017689, 2.0907792787), (30.7290731939, -1.0111126057)],
                knots=[0, 0, 0, 0, 0.5004710067, 1, 1, 1, 1], degree=3))
        make_face()
        with BuildLine():
            ThreePointArc((14.9636554658, -6.3462481655), (13.8564064606, -8), (12.977839863, -9.7857816841))
            ThreePointArc((12.977839863, -9.7857816841), (11.8506709528, -15.8413033586), (13.2521707118, -21.8392739261))
            ThreePointArc((13.2521707118, -21.8392739261), (14.559506853, -24.1036465453), (16.2401857995, -26.1066017178))
            ThreePointArc((16.2401857995, -26.1066017178), (18.0971457035, -26.7479817318), (19.1756683745, -28.3900710276))
            ThreePointArc((19.1756683745, -28.3900710276), (20.8484071525, -29.248433838), (22.6153829316, -29.8908031476))
            ThreePointArc((22.6153829316, -29.8908031476), (24.5527012815, -29.5645118383), (26.2859196032, -30.4895105718))
            ThreePointArc((26.2859196032, -30.4895105718), (28.0666135394, -30.4503185409), (29.8301084335, -30.2003332041))
            ThreePointArc((29.8301084335, -30.2003332041), (31.3904557163, -29.0066059469), (33.3550436041, -29.0145330185))
            ThreePointArc((33.3550436041, -29.0145330185), (34.9110693177, -28.1478203278), (36.3533919945, -27.1027786032))
            ThreePointArc((36.3533919945, -27.1027786032), (37.1751277484, -25.318284625), (38.9157542138, -24.4073027836))
            ThreePointArc((38.9157542138, -24.4073027836), (39.8864728498, -22.9139467512), (40.6733373176, -21.3160571369))
            ThreePointArc((40.6733373176, -21.3160571369), (40.5660084937, -19.3543872027), (41.6792499107, -17.7356339926))
            ThreePointArc((41.6792499107, -17.7356339926), (41.8396787748, -15.9617485709), (41.7887140751, -14.1813526853))
            ThreePointArc((41.7887140751, -14.1813526853), (40.7771961905, -12.4971614918), (41.0050374719, -10.5458140707))
            ThreePointArc((41.0050374719, -10.5458140707), (40.3179940925, -8.9025312877), (39.4410122738, -7.3522700841))
            ThreePointArc((39.4410122738, -7.3522700841), (37.7597440324, -6.3359012987), (37.0493785839, -4.5042219226))
            ThreePointArc((37.0493785839, -4.5042219226), (35.6740984643, -3.3724041358), (34.1743569124, -2.4115804331))
            ThreePointArc((34.1743569124, -2.4115804331), (32.2130045314, -2.2985970493), (30.7290731939, -1.0111126057))
            ThreePointArc((30.7290731939, -1.0111126057), (28.1541236585, -0.5570795286), (25.5394513761, -0.5570795286))
            ThreePointArc((25.5394513761, -0.5570795286), (19.644306614, -2.3423304177), (14.9636554658, -6.3462481655))
        make_face()
        with Locations((26.8467875173, -15.5)):
            Circle(F0_R, mode=Mode.SUBTRACT)
        with BuildLine():
            add(Edge.make_bspline(
                [(-13.2521707118, -21.8392739261), (-8.8498138423, -19.3014829213), (-0.0348937024, -14.2200173103), (8.8197317824, -19.2975620337), (13.2521707118, -21.8392739261)],
                knots=[0, 0, 0, 0, 0.4994210724, 1, 1, 1, 1], degree=3))
            ThreePointArc((-13.2521707118, -21.8392739261), (-14.559506853, -24.1036465453), (-16.2401857995, -26.1066017178))
            add(Edge.make_bspline(
                [(16.3813667404, -26.2459279712), (10.9312657247, -23.0359426949), (0.0491808111, -16.6266427117), (-10.8164268244, -22.950124614), (-16.2401857995, -26.1066017178)],
                knots=[0, 0, 0, 0, 0.5008324286, 1, 1, 1, 1], degree=3))
            ThreePointArc((16.3813667404, -26.2459279712), (16.3105459694, -26.1764982108), (16.2401857995, -26.1066017178))
            ThreePointArc((16.2401857995, -26.1066017178), (14.559506853, -24.1036465453), (13.2521707118, -21.8392739261))
        make_face()
        with BuildLine():
            ThreePointArc((-12.977839863, -9.7857816841), (-13.8564064606, -8), (-14.9636554658, -6.3462481655))
            ThreePointArc((-14.9636554658, -6.3462481655), (-19.644306614, -2.3423304177), (-25.5394513761, -0.5570795286))
            ThreePointArc((-25.5394513761, -0.5570795286), (-28.1541236585, -0.5570795286), (-30.7290731939, -1.0111126057))
            ThreePointArc((-30.7290731939, -1.0111126057), (-32.2130045314, -2.2985970493), (-34.1743569124, -2.4115804331))
            ThreePointArc((-34.1743569124, -2.4115804331), (-35.7540903009, -3.4310333035), (-37.1938863311, -4.6400945613))
            ThreePointArc((-37.1938863311, -4.6400945613), (-37.8799689433, -6.4810071222), (-39.5476505057, -7.5195188523))
            ThreePointArc((-39.5476505057, -7.5195188523), (-40.4040561795, -9.0812410529), (-41.0693099742, -10.733465099))
            ThreePointArc((-41.0693099742, -10.733465099), (-40.8156854858, -12.6816291132), (-41.804844475, -14.3790485962))
            ThreePointArc((-41.804844475, -14.3790485962), (-41.8322621239, -16.1599627386), (-41.6483907808, -17.9315716793))
            ThreePointArc((-41.6483907808, -17.9315716793), (-40.5138415398, -19.5354627066), (-40.5952213554, -21.4983803648))
            ThreePointArc((-40.5952213554, -21.4983803648), (-39.7872964124, -23.0857253797), (-38.7969156479, -24.5661148053))
            ThreePointArc((-38.7969156479, -24.5661148053), (-37.0443952391, -25.4540002844), (-36.1991345452, -27.227472237))
            ThreePointArc((-36.1991345452, -27.227472237), (-34.7431191386, -28.2533504197), (-33.1757687231, -29.0994116379))
            ThreePointArc((-33.1757687231, -29.0994116379), (-31.2114574223, -29.0655070502), (-29.6354616248, -30.2384970985))
            ThreePointArc((-29.6354616248, -30.2384970985), (-27.8688152994, -30.4651414698), (-26.0877588052, -30.4807835381))
            ThreePointArc((-26.0877588052, -30.4807835381), (-24.3669234967, -29.5329469231), (-22.4254599012, -29.8335920868))
            ThreePointArc((-22.4254599012, -29.8335920868), (-20.7576368855, -29.2084734593), (-19.1756683745, -28.3900710276))
            ThreePointArc((-19.1756683745, -28.3900710276), (-18.0971457035, -26.7479817318), (-16.2401857995, -26.1066017178))
            ThreePointArc((-16.2401857995, -26.1066017178), (-14.559506853, -24.1036465453), (-13.2521707118, -21.8392739261))
            ThreePointArc((-13.2521707118, -21.8392739261), (-11.8506709528, -15.8413033586), (-12.977839863, -9.7857816841))
        make_face()
        with Locations((-26.8467875173, -15.5)):
            Circle(F0_R, mode=Mode.SUBTRACT)
    extrude(amount=F1_DEPTH, both=True)


solid = f1.part
